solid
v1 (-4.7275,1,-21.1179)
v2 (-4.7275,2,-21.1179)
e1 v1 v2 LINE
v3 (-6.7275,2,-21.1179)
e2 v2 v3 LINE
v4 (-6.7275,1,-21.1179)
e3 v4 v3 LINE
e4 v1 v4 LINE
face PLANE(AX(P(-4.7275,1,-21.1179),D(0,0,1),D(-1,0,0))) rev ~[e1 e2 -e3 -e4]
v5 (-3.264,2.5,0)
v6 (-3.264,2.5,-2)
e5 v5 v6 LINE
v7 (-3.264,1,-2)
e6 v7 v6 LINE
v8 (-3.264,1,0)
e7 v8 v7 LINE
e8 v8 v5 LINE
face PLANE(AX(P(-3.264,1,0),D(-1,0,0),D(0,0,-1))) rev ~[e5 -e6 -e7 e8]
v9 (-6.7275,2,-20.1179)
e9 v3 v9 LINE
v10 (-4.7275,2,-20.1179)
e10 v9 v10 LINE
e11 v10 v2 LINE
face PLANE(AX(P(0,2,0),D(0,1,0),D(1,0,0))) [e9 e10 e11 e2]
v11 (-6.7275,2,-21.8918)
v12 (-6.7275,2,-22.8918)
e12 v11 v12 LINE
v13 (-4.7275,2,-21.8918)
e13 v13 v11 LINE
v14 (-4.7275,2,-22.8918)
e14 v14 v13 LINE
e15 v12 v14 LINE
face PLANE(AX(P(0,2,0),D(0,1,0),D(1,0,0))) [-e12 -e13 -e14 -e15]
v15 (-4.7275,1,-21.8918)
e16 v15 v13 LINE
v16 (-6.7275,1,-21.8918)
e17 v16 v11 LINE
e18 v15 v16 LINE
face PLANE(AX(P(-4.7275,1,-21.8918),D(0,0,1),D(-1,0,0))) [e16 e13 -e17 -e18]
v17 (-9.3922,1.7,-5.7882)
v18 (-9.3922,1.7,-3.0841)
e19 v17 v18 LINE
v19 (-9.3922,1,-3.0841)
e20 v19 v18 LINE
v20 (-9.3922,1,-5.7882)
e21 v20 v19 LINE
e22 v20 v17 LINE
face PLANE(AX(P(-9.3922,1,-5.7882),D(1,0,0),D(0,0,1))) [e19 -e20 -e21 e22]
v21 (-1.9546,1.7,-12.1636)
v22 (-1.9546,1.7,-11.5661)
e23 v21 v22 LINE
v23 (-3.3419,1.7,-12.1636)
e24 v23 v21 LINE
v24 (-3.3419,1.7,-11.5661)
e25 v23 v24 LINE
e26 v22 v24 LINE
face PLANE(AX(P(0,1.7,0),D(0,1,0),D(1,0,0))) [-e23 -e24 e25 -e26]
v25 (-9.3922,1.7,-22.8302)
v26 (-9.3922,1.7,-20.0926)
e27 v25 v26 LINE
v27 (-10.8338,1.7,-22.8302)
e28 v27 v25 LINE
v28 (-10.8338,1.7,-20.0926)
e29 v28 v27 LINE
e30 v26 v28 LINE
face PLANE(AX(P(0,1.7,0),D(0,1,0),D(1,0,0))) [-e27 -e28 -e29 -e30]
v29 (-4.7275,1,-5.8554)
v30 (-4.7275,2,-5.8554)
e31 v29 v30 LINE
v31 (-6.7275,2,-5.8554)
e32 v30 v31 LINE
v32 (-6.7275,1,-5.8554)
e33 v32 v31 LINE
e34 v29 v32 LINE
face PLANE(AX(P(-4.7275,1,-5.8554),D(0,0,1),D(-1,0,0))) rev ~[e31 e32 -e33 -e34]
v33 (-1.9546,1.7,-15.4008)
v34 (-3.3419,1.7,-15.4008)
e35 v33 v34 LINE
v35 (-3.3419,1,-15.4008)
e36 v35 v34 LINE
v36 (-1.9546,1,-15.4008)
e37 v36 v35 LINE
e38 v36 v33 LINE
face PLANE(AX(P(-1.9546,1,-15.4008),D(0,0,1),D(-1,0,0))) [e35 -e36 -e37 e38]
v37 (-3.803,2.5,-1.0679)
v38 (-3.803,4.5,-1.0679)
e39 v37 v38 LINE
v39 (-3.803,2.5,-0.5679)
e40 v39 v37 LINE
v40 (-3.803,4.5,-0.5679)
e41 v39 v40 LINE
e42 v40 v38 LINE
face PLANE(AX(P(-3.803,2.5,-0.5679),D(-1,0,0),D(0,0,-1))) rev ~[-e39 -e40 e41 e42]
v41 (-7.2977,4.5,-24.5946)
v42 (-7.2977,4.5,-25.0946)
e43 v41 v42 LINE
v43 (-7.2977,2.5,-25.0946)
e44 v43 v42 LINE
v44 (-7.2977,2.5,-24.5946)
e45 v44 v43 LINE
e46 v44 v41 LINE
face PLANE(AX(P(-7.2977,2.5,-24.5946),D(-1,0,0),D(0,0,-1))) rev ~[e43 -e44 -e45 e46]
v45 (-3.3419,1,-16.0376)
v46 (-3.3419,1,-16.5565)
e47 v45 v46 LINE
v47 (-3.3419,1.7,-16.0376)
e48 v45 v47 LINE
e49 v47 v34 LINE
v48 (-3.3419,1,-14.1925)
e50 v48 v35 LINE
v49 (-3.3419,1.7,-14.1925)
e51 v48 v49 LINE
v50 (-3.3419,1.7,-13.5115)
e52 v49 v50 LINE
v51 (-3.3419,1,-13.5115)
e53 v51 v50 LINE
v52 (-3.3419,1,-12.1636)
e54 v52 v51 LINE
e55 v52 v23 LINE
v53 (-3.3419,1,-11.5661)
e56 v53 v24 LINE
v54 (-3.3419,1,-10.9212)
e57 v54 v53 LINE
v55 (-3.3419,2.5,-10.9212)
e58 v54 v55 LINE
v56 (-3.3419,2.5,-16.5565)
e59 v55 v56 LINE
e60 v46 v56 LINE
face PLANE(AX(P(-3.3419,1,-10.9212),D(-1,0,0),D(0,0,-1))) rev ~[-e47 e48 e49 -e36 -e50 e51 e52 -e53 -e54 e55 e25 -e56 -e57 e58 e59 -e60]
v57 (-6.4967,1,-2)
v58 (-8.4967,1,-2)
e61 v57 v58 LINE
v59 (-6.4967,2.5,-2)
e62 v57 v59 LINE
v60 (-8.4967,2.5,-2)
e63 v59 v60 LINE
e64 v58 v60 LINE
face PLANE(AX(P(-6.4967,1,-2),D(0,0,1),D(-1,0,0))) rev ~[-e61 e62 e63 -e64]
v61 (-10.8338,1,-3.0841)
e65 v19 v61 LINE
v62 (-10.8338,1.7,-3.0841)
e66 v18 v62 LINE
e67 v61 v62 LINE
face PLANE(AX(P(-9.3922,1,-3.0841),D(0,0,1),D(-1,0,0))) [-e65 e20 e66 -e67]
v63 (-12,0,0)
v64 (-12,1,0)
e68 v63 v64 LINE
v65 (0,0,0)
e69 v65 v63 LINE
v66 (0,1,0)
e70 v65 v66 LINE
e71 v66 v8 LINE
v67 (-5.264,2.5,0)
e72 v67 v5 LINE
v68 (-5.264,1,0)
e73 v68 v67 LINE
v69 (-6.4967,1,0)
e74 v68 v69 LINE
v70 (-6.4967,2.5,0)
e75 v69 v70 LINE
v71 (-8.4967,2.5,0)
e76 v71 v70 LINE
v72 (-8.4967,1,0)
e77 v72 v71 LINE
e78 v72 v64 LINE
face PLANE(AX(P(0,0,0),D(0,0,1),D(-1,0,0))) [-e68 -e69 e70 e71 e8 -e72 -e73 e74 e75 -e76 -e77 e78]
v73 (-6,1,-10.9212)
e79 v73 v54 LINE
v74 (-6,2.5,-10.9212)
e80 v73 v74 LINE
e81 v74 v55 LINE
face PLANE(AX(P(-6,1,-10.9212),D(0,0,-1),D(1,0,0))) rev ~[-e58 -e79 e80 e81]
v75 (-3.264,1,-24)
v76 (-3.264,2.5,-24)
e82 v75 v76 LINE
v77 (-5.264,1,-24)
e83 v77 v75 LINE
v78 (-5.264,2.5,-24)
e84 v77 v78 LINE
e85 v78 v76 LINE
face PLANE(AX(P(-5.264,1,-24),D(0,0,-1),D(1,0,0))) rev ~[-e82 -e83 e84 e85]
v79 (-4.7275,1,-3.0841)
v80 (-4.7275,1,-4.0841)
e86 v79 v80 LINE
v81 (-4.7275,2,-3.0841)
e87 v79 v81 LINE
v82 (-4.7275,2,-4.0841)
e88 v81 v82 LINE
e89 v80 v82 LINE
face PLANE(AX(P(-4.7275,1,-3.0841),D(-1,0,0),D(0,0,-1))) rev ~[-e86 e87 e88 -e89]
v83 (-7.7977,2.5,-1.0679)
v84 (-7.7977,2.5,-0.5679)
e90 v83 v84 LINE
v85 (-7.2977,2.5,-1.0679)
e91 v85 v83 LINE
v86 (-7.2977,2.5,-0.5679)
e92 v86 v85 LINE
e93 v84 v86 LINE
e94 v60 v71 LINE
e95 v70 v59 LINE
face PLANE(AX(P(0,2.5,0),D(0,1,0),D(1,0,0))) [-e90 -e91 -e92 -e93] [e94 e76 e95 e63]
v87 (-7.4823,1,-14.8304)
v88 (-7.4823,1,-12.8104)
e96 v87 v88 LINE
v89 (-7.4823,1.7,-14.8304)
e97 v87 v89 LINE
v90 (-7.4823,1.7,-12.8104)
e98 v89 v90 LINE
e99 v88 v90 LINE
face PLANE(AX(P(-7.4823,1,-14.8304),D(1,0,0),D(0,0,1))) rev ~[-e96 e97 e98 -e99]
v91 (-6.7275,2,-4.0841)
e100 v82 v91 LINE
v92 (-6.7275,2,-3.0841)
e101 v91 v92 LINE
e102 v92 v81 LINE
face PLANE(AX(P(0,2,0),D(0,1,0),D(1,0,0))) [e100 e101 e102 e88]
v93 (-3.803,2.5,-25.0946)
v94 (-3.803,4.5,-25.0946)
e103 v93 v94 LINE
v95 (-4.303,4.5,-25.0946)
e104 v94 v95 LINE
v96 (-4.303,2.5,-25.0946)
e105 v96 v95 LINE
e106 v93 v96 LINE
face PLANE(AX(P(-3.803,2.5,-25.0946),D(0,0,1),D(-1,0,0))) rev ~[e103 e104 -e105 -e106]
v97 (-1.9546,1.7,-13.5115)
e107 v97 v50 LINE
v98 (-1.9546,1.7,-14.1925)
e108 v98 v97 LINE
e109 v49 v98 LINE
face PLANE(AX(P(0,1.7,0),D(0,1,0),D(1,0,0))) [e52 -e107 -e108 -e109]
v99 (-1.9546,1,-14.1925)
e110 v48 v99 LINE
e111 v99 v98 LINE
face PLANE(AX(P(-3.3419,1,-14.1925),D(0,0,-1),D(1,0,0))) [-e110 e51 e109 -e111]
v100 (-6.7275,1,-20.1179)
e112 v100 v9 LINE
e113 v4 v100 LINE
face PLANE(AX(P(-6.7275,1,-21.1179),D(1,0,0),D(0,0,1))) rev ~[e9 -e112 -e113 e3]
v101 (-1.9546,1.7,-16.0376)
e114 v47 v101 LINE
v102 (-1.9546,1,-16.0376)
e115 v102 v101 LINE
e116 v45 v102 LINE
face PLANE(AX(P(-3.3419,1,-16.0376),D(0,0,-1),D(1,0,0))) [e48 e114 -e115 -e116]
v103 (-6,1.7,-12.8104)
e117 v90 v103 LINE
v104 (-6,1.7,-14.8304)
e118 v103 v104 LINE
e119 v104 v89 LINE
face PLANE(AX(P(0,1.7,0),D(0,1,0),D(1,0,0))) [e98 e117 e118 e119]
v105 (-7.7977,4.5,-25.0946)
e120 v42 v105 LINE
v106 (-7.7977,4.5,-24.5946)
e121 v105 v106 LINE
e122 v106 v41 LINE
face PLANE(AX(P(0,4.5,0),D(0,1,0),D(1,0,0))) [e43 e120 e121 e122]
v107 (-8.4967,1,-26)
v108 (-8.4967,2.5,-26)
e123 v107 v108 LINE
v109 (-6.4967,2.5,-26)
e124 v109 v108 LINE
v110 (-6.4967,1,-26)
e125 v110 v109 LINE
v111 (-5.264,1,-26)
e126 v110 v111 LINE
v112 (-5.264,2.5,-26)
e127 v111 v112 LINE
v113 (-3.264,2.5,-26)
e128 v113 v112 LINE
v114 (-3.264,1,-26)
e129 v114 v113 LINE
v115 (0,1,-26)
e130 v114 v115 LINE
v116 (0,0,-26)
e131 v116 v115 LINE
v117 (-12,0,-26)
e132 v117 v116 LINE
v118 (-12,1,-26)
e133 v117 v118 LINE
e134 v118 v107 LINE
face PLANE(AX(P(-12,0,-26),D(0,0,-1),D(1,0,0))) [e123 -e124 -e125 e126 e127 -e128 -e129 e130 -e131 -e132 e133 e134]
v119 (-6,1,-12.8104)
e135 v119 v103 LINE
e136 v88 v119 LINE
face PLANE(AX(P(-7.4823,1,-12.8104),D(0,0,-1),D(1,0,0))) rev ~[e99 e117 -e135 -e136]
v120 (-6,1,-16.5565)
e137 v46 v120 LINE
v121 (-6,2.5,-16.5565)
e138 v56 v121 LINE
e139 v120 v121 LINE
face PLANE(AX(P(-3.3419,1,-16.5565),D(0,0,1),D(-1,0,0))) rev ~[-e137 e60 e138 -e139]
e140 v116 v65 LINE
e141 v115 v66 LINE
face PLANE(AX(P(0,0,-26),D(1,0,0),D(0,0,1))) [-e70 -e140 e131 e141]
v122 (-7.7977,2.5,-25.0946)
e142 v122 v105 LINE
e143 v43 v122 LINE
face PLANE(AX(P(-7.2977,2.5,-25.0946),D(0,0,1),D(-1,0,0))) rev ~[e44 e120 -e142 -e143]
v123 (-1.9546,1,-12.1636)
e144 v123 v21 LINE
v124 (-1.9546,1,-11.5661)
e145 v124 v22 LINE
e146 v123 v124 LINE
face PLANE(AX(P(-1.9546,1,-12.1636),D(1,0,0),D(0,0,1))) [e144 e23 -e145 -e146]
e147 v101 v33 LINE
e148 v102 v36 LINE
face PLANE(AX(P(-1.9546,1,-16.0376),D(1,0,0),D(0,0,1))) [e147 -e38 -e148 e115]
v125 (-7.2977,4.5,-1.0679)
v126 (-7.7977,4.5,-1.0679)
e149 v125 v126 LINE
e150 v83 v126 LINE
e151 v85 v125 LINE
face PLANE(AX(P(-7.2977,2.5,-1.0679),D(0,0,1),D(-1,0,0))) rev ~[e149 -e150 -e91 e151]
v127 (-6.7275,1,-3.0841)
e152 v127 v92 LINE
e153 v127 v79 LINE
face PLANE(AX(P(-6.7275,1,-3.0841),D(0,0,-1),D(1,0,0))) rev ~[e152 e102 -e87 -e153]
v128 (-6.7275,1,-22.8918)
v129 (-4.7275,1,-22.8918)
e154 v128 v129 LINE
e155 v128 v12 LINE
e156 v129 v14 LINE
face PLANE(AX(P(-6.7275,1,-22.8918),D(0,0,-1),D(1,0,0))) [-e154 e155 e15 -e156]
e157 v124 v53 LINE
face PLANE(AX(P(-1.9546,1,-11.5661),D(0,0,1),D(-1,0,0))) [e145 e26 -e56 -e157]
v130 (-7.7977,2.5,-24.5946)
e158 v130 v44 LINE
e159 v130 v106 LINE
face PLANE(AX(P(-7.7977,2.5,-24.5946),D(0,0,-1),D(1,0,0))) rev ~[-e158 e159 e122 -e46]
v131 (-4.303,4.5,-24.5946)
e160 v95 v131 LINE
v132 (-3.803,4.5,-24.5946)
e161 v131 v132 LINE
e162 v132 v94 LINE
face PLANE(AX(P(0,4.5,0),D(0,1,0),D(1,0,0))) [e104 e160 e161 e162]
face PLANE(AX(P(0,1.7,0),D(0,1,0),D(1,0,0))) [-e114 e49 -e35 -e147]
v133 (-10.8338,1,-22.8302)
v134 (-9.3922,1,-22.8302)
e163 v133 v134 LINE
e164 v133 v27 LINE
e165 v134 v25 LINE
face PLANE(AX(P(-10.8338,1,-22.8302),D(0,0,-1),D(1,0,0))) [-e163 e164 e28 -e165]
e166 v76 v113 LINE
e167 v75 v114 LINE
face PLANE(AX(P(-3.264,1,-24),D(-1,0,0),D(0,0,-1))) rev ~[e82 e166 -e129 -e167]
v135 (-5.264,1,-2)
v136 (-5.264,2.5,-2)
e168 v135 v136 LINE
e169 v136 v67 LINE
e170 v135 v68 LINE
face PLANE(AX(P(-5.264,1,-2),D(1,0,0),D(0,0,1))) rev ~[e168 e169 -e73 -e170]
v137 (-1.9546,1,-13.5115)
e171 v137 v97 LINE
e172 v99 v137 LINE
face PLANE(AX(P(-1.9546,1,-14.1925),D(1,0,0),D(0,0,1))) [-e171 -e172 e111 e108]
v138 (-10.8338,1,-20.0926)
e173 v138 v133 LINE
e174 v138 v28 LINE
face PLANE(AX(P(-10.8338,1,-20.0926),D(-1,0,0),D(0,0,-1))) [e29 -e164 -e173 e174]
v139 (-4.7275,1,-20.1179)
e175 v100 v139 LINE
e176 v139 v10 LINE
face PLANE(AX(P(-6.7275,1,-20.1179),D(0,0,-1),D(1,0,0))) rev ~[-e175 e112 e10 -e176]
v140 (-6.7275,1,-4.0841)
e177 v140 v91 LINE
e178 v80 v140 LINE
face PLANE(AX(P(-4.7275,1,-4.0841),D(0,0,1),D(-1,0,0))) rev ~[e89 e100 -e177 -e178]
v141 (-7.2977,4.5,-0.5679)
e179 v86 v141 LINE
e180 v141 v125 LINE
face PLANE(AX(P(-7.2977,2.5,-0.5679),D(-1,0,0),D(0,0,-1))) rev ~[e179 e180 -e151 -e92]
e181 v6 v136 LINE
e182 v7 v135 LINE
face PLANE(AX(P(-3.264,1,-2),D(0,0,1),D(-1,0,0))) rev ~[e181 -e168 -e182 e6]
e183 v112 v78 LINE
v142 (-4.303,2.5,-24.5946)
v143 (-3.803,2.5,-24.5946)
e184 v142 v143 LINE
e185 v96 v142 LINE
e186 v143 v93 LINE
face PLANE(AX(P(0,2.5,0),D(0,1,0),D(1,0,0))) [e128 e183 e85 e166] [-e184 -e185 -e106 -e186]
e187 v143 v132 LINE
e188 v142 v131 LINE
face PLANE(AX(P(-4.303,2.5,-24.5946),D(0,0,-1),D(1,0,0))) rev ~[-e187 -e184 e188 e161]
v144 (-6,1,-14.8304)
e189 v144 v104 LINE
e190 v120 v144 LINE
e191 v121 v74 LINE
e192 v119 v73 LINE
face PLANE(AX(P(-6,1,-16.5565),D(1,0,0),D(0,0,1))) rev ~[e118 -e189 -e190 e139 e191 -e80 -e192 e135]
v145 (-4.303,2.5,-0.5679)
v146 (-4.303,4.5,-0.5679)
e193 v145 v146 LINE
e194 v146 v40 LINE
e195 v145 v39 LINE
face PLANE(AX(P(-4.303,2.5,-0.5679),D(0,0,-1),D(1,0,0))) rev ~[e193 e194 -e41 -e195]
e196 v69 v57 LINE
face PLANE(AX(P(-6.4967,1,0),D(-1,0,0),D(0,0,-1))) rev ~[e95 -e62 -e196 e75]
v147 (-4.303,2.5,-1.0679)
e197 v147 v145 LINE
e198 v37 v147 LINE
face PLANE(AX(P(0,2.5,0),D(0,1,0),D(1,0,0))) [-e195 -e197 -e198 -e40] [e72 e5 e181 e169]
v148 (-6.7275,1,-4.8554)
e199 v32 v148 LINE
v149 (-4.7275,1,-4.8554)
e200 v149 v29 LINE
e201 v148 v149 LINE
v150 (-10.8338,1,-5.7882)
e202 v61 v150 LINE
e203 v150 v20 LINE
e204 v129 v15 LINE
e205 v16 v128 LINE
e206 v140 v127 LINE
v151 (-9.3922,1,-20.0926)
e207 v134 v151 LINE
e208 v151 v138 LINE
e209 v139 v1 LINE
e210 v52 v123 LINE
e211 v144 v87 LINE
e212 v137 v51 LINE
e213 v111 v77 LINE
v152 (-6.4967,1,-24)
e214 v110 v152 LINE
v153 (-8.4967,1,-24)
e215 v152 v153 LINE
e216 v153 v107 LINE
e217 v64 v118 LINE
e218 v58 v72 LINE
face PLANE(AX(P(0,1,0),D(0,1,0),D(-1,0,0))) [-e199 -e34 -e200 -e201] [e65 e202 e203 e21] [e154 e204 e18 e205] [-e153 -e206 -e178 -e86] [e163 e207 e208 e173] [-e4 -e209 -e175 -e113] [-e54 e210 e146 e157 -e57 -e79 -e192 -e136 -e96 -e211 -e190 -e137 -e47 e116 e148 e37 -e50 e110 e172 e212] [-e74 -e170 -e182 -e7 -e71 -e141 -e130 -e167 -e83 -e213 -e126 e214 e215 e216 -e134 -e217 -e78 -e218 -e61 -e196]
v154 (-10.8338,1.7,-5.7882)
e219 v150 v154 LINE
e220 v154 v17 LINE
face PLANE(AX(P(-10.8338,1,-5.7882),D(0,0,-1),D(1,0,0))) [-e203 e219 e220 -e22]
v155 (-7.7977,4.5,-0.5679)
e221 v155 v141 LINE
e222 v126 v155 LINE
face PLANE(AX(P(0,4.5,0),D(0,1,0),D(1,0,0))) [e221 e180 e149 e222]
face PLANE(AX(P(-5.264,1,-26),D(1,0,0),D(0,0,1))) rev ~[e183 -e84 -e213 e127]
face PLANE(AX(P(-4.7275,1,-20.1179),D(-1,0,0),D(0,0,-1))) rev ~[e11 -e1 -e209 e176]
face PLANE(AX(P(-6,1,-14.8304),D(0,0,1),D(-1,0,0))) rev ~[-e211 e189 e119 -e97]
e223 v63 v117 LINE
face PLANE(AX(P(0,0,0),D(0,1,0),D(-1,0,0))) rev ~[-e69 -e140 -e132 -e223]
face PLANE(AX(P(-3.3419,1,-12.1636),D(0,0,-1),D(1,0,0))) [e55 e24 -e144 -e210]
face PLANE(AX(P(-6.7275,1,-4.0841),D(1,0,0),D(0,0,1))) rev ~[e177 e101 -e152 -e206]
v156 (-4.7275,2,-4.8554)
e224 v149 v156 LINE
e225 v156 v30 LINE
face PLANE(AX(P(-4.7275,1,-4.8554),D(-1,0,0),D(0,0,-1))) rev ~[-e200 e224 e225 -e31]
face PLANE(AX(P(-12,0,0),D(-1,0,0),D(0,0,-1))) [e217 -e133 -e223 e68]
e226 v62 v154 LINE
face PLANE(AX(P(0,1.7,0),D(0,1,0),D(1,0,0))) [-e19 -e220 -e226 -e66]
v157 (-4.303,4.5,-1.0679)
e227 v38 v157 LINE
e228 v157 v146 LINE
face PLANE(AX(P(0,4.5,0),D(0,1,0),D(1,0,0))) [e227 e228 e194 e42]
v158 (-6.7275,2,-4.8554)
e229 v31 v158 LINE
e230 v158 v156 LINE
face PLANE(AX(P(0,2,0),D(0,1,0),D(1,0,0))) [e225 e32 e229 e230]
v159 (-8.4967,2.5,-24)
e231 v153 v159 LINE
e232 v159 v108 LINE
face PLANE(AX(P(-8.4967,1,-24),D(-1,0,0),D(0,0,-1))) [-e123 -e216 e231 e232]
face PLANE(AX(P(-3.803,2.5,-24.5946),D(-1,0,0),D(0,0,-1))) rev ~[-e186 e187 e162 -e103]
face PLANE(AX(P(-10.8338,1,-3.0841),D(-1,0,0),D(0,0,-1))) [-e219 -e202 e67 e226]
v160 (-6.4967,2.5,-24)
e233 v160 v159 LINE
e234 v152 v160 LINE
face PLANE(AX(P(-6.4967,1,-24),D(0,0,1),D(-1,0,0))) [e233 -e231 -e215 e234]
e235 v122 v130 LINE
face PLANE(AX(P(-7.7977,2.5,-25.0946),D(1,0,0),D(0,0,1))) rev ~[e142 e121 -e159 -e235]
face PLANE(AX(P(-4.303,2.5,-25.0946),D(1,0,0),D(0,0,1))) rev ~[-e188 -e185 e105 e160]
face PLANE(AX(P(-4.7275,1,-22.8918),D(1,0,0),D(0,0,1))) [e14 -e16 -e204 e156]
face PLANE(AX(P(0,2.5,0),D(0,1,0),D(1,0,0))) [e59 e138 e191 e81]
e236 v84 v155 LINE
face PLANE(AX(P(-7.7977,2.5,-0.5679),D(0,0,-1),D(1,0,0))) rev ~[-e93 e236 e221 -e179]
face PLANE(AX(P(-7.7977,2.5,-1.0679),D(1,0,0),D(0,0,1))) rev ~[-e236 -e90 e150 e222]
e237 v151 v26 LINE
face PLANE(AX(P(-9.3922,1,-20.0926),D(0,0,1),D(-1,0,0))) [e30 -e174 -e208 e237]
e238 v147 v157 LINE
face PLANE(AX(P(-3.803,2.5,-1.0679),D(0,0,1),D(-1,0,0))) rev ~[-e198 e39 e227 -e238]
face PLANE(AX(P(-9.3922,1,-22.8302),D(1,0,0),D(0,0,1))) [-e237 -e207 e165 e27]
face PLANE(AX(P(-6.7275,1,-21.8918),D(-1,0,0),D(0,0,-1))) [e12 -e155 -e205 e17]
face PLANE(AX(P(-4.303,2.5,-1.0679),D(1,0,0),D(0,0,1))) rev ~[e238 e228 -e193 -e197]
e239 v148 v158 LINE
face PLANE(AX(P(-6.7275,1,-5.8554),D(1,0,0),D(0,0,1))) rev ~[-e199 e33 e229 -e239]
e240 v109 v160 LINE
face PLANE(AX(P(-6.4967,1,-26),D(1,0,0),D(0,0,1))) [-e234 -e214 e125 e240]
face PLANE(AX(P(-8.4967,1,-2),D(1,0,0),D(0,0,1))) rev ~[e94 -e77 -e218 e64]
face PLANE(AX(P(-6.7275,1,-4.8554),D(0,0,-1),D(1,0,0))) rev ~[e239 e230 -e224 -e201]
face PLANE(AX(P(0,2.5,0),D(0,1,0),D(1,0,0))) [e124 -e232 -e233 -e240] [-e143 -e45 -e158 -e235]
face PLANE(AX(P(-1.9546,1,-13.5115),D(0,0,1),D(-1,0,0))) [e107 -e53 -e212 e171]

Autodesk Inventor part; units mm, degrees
ref_plane "YZ Plane" through (0, 0, 0) normal (1, 0, 0) x (0, 1, 0)
ref_plane "XZ Plane" through (0, 0, 0) normal (0, 1, 0) x (-1, 0, 0)
ref_plane "XY Plane" through (0, 0, 0) normal (0, 0, 1) x (1, 0, 0)
sketch "Sketch1" plane through (0, 0, 0) normal (0, 1, 0) x (-1, 0, 0)
  line L0 (0, 0) -> (12, 0)
  line L1 (12, 0) -> (12, -26)
  line L2 (12, -26) -> (0, -26)
  line L3 (0, -26) -> (0, 0)
  dimension "d0" = 12
  dimension "d1" = 26
extrude "Extrusion1" add sketch "Sketch1" along normal blind 1
sketch "Sketch2" plane through (0, 1, 0) normal (0, 1, 0) x (1, 0, 0)
  line L0 (-8.4967, 0) -> (-6.4967, 0)
  line L1 (-6.4967, 0) -> (-6.4967, 2)
  line L2 (-6.4967, 2) -> (-8.4967, 2)
  line L3 (-8.4967, 2) -> (-8.4967, 0)
  line L4 (-5.264, 0) -> (-3.264, 0)
  line L5 (-3.264, 0) -> (-3.264, 2)
  line L6 (-3.264, 2) -> (-5.264, 2)
  line L7 (-5.264, 2) -> (-5.264, 0)
  line L8 (0, 26) -> (-12, 26) projected
  line L9 (-8.4967, 26) -> (-6.4967, 26)
  line L10 (-6.4967, 26) -> (-6.4967, 24)
  line L11 (-6.4967, 24) -> (-8.4967, 24)
  line L12 (-8.4967, 24) -> (-8.4967, 26)
  line L13 (-5.264, 24) -> (-3.264, 24)
  line L14 (-3.264, 24) -> (-3.264, 26)
  line L15 (-3.264, 26) -> (-5.264, 26)
  line L16 (-5.264, 26) -> (-5.264, 24)
  line L17 (-6, 10.9212) -> (-3.3419, 10.9212)
  line L18 (-3.3419, 10.9212) -> (-3.3419, 16.5565)
  line L19 (-3.3419, 16.5565) -> (-6, 16.5565)
  line L20 (-6, 16.5565) -> (-6, 10.9212)
  point P0 (0, 0)
  dimension "d4" = 2
  dimension "d5" = 2
  dimension "d6" = 2
  dimension "d7" = 2
  dimension "d8" = 2
extrude "Extrusion2" add sketch "Sketch2" along normal blind 1.5
sketch "Sketch3" plane through (0, 2.5, 0) normal (0, 1, 0) x (1, 0, 0)
  line L0 (-7.7977, 0.5679) -> (-7.2977, 0.5679)
  line L1 (-7.2977, 0.5679) -> (-7.2977, 1.0679)
  line L2 (-7.2977, 1.0679) -> (-7.7977, 1.0679)
  line L3 (-7.7977, 1.0679) -> (-7.7977, 0.5679)
  line L4 (-4.303, 0.5679) -> (-3.803, 0.5679)
  line L5 (-3.803, 0.5679) -> (-3.803, 1.0679)
  line L6 (-3.803, 1.0679) -> (-4.303, 1.0679)
  line L7 (-4.303, 1.0679) -> (-4.303, 0.5679)
  line L8 (-7.7977, 24.5946) -> (-7.2977, 24.5946)
  line L9 (-7.2977, 24.5946) -> (-7.2977, 25.0946)
  line L10 (-7.2977, 25.0946) -> (-7.7977, 25.0946)
  line L11 (-7.7977, 25.0946) -> (-7.7977, 24.5946)
  line L12 (-4.303, 24.5946) -> (-3.803, 24.5946)
  line L13 (-3.803, 24.5946) -> (-3.803, 25.0946)
  line L14 (-3.803, 25.0946) -> (-4.303, 25.0946)
  line L15 (-4.303, 25.0946) -> (-4.303, 24.5946)
  point P0 (0, 0)
  dimension "d11" = 0.5
  dimension "d12" = 0.5
  dimension "d13" = 0.5
  dimension "d14" = 0.5
  dimension "d15" = 0.5
  dimension "d16" = 0.5
extrude "Extrusion3" add sketch "Sketch3" along normal blind 2
sketch "Sketch4" plane through (0, 1, 0) normal (0, 1, 0) x (1, 0, 0)
  line L0 (-6.7275, 22.8918) -> (-4.7275, 22.8918)
  line L1 (-4.7275, 22.8918) -> (-4.7275, 21.8918)
  line L2 (-4.7275, 21.8918) -> (-6.7275, 21.8918)
  line L3 (-6.7275, 21.8918) -> (-6.7275, 22.8918)
  line L4 (-6.7275, 20.1179) -> (-4.7275, 20.1179)
  line L5 (-4.7275, 20.1179) -> (-4.7275, 21.1179)
  line L6 (-4.7275, 21.1179) -> (-6.7275, 21.1179)
  line L7 (-6.7275, 21.1179) -> (-6.7275, 20.1179)
  line L8 (-4.7275, 4.0841) -> (-6.7275, 4.0841)
  line L9 (-6.7275, 4.0841) -> (-6.7275, 3.0841)
  line L10 (-6.7275, 3.0841) -> (-4.7275, 3.0841)
  line L11 (-4.7275, 3.0841) -> (-4.7275, 4.0841)
  line L12 (-6.7275, 4.8554) -> (-4.7275, 4.8554)
  line L13 (-4.7275, 4.8554) -> (-4.7275, 5.8554)
  line L14 (-4.7275, 5.8554) -> (-6.7275, 5.8554)
  line L15 (-6.7275, 5.8554) -> (-6.7275, 4.8554)
  point P0 (0, 0)
  dimension "d19" = 2
  dimension "d20" = 1
  dimension "d21" = 2
  dimension "d22" = 1
  dimension "d23" = 2
  dimension "d24" = 1
  dimension "d25" = 2
  dimension "d26" = 1
extrude "Extrusion4" add sketch "Sketch4" along normal blind 1
sketch "Sketch5" plane through (0, 1, 0) normal (0, 1, 0) x (1, 0, 0)
  line L0 (-10.8338, 5.7882) -> (-9.3922, 5.7882)
  line L1 (-9.3922, 5.7882) -> (-9.3922, 3.0841)
  line L2 (-9.3922, 3.0841) -> (-10.8338, 3.0841)
  line L3 (-10.8338, 3.0841) -> (-10.8338, 5.7882)
  line L4 (-10.8338, 22.8302) -> (-9.3922, 22.8302)
  line L5 (-9.3922, 22.8302) -> (-9.3922, 20.0926)
  line L6 (-9.3922, 20.0926) -> (-10.8338, 20.0926)
  line L7 (-10.8338, 20.0926) -> (-10.8338, 22.8302)
  point P0 (0, 0)
extrude "Extrusion5" add sketch "Sketch5" along normal blind 0.7
sketch "Sketch6" plane through (0, 1, 0) normal (0, 1, 0) x (1, 0, 0)
  point P0 (0, 0)
sketch "Sketch7" plane through (0, 1, 0) normal (0, 1, 0) x (1, 0, 0)
  line L0 (-3.3419, 16.5565) -> (-3.3419, 10.9212) projected
  line L1 (-3.3419, 16.0376) -> (-1.9546, 16.0376)
  line L2 (-1.9546, 16.0376) -> (-1.9546, 15.4008)
  line L3 (-1.9546, 15.4008) -> (-3.3419, 15.4008)
  line L4 (-3.3419, 15.4008) -> (-3.3419, 16.0376)
  line L5 (-3.3419, 14.1925) -> (-1.9546, 14.1925)
  line L6 (-1.9546, 14.1925) -> (-1.9546, 13.5115)
  line L7 (-1.9546, 13.5115) -> (-3.3419, 13.5115)
  line L8 (-3.3419, 13.5115) -> (-3.3419, 14.1925)
  line L9 (-3.3419, 12.1636) -> (-1.9546, 12.1636)
  line L10 (-1.9546, 12.1636) -> (-1.9546, 11.5661)
  line L11 (-1.9546, 11.5661) -> (-3.3419, 11.5661)
  line L12 (-3.3419, 11.5661) -> (-3.3419, 12.1636)
  line L13 (-6, 10.9212) -> (-6, 16.5565) projected
  line L14 (-6, 14.8304) -> (-7.4823, 14.8304)
  line L15 (-7.4823, 14.8304) -> (-7.4823, 12.8104)
  line L16 (-7.4823, 12.8104) -> (-6, 12.8104)
  line L17 (-6, 12.8104) -> (-6, 14.8304)
  point P0 (0, 0)
extrude "Extrusion6" add sketch "Sketch7" along normal blind 0.7
properties part number "dc to dc"
